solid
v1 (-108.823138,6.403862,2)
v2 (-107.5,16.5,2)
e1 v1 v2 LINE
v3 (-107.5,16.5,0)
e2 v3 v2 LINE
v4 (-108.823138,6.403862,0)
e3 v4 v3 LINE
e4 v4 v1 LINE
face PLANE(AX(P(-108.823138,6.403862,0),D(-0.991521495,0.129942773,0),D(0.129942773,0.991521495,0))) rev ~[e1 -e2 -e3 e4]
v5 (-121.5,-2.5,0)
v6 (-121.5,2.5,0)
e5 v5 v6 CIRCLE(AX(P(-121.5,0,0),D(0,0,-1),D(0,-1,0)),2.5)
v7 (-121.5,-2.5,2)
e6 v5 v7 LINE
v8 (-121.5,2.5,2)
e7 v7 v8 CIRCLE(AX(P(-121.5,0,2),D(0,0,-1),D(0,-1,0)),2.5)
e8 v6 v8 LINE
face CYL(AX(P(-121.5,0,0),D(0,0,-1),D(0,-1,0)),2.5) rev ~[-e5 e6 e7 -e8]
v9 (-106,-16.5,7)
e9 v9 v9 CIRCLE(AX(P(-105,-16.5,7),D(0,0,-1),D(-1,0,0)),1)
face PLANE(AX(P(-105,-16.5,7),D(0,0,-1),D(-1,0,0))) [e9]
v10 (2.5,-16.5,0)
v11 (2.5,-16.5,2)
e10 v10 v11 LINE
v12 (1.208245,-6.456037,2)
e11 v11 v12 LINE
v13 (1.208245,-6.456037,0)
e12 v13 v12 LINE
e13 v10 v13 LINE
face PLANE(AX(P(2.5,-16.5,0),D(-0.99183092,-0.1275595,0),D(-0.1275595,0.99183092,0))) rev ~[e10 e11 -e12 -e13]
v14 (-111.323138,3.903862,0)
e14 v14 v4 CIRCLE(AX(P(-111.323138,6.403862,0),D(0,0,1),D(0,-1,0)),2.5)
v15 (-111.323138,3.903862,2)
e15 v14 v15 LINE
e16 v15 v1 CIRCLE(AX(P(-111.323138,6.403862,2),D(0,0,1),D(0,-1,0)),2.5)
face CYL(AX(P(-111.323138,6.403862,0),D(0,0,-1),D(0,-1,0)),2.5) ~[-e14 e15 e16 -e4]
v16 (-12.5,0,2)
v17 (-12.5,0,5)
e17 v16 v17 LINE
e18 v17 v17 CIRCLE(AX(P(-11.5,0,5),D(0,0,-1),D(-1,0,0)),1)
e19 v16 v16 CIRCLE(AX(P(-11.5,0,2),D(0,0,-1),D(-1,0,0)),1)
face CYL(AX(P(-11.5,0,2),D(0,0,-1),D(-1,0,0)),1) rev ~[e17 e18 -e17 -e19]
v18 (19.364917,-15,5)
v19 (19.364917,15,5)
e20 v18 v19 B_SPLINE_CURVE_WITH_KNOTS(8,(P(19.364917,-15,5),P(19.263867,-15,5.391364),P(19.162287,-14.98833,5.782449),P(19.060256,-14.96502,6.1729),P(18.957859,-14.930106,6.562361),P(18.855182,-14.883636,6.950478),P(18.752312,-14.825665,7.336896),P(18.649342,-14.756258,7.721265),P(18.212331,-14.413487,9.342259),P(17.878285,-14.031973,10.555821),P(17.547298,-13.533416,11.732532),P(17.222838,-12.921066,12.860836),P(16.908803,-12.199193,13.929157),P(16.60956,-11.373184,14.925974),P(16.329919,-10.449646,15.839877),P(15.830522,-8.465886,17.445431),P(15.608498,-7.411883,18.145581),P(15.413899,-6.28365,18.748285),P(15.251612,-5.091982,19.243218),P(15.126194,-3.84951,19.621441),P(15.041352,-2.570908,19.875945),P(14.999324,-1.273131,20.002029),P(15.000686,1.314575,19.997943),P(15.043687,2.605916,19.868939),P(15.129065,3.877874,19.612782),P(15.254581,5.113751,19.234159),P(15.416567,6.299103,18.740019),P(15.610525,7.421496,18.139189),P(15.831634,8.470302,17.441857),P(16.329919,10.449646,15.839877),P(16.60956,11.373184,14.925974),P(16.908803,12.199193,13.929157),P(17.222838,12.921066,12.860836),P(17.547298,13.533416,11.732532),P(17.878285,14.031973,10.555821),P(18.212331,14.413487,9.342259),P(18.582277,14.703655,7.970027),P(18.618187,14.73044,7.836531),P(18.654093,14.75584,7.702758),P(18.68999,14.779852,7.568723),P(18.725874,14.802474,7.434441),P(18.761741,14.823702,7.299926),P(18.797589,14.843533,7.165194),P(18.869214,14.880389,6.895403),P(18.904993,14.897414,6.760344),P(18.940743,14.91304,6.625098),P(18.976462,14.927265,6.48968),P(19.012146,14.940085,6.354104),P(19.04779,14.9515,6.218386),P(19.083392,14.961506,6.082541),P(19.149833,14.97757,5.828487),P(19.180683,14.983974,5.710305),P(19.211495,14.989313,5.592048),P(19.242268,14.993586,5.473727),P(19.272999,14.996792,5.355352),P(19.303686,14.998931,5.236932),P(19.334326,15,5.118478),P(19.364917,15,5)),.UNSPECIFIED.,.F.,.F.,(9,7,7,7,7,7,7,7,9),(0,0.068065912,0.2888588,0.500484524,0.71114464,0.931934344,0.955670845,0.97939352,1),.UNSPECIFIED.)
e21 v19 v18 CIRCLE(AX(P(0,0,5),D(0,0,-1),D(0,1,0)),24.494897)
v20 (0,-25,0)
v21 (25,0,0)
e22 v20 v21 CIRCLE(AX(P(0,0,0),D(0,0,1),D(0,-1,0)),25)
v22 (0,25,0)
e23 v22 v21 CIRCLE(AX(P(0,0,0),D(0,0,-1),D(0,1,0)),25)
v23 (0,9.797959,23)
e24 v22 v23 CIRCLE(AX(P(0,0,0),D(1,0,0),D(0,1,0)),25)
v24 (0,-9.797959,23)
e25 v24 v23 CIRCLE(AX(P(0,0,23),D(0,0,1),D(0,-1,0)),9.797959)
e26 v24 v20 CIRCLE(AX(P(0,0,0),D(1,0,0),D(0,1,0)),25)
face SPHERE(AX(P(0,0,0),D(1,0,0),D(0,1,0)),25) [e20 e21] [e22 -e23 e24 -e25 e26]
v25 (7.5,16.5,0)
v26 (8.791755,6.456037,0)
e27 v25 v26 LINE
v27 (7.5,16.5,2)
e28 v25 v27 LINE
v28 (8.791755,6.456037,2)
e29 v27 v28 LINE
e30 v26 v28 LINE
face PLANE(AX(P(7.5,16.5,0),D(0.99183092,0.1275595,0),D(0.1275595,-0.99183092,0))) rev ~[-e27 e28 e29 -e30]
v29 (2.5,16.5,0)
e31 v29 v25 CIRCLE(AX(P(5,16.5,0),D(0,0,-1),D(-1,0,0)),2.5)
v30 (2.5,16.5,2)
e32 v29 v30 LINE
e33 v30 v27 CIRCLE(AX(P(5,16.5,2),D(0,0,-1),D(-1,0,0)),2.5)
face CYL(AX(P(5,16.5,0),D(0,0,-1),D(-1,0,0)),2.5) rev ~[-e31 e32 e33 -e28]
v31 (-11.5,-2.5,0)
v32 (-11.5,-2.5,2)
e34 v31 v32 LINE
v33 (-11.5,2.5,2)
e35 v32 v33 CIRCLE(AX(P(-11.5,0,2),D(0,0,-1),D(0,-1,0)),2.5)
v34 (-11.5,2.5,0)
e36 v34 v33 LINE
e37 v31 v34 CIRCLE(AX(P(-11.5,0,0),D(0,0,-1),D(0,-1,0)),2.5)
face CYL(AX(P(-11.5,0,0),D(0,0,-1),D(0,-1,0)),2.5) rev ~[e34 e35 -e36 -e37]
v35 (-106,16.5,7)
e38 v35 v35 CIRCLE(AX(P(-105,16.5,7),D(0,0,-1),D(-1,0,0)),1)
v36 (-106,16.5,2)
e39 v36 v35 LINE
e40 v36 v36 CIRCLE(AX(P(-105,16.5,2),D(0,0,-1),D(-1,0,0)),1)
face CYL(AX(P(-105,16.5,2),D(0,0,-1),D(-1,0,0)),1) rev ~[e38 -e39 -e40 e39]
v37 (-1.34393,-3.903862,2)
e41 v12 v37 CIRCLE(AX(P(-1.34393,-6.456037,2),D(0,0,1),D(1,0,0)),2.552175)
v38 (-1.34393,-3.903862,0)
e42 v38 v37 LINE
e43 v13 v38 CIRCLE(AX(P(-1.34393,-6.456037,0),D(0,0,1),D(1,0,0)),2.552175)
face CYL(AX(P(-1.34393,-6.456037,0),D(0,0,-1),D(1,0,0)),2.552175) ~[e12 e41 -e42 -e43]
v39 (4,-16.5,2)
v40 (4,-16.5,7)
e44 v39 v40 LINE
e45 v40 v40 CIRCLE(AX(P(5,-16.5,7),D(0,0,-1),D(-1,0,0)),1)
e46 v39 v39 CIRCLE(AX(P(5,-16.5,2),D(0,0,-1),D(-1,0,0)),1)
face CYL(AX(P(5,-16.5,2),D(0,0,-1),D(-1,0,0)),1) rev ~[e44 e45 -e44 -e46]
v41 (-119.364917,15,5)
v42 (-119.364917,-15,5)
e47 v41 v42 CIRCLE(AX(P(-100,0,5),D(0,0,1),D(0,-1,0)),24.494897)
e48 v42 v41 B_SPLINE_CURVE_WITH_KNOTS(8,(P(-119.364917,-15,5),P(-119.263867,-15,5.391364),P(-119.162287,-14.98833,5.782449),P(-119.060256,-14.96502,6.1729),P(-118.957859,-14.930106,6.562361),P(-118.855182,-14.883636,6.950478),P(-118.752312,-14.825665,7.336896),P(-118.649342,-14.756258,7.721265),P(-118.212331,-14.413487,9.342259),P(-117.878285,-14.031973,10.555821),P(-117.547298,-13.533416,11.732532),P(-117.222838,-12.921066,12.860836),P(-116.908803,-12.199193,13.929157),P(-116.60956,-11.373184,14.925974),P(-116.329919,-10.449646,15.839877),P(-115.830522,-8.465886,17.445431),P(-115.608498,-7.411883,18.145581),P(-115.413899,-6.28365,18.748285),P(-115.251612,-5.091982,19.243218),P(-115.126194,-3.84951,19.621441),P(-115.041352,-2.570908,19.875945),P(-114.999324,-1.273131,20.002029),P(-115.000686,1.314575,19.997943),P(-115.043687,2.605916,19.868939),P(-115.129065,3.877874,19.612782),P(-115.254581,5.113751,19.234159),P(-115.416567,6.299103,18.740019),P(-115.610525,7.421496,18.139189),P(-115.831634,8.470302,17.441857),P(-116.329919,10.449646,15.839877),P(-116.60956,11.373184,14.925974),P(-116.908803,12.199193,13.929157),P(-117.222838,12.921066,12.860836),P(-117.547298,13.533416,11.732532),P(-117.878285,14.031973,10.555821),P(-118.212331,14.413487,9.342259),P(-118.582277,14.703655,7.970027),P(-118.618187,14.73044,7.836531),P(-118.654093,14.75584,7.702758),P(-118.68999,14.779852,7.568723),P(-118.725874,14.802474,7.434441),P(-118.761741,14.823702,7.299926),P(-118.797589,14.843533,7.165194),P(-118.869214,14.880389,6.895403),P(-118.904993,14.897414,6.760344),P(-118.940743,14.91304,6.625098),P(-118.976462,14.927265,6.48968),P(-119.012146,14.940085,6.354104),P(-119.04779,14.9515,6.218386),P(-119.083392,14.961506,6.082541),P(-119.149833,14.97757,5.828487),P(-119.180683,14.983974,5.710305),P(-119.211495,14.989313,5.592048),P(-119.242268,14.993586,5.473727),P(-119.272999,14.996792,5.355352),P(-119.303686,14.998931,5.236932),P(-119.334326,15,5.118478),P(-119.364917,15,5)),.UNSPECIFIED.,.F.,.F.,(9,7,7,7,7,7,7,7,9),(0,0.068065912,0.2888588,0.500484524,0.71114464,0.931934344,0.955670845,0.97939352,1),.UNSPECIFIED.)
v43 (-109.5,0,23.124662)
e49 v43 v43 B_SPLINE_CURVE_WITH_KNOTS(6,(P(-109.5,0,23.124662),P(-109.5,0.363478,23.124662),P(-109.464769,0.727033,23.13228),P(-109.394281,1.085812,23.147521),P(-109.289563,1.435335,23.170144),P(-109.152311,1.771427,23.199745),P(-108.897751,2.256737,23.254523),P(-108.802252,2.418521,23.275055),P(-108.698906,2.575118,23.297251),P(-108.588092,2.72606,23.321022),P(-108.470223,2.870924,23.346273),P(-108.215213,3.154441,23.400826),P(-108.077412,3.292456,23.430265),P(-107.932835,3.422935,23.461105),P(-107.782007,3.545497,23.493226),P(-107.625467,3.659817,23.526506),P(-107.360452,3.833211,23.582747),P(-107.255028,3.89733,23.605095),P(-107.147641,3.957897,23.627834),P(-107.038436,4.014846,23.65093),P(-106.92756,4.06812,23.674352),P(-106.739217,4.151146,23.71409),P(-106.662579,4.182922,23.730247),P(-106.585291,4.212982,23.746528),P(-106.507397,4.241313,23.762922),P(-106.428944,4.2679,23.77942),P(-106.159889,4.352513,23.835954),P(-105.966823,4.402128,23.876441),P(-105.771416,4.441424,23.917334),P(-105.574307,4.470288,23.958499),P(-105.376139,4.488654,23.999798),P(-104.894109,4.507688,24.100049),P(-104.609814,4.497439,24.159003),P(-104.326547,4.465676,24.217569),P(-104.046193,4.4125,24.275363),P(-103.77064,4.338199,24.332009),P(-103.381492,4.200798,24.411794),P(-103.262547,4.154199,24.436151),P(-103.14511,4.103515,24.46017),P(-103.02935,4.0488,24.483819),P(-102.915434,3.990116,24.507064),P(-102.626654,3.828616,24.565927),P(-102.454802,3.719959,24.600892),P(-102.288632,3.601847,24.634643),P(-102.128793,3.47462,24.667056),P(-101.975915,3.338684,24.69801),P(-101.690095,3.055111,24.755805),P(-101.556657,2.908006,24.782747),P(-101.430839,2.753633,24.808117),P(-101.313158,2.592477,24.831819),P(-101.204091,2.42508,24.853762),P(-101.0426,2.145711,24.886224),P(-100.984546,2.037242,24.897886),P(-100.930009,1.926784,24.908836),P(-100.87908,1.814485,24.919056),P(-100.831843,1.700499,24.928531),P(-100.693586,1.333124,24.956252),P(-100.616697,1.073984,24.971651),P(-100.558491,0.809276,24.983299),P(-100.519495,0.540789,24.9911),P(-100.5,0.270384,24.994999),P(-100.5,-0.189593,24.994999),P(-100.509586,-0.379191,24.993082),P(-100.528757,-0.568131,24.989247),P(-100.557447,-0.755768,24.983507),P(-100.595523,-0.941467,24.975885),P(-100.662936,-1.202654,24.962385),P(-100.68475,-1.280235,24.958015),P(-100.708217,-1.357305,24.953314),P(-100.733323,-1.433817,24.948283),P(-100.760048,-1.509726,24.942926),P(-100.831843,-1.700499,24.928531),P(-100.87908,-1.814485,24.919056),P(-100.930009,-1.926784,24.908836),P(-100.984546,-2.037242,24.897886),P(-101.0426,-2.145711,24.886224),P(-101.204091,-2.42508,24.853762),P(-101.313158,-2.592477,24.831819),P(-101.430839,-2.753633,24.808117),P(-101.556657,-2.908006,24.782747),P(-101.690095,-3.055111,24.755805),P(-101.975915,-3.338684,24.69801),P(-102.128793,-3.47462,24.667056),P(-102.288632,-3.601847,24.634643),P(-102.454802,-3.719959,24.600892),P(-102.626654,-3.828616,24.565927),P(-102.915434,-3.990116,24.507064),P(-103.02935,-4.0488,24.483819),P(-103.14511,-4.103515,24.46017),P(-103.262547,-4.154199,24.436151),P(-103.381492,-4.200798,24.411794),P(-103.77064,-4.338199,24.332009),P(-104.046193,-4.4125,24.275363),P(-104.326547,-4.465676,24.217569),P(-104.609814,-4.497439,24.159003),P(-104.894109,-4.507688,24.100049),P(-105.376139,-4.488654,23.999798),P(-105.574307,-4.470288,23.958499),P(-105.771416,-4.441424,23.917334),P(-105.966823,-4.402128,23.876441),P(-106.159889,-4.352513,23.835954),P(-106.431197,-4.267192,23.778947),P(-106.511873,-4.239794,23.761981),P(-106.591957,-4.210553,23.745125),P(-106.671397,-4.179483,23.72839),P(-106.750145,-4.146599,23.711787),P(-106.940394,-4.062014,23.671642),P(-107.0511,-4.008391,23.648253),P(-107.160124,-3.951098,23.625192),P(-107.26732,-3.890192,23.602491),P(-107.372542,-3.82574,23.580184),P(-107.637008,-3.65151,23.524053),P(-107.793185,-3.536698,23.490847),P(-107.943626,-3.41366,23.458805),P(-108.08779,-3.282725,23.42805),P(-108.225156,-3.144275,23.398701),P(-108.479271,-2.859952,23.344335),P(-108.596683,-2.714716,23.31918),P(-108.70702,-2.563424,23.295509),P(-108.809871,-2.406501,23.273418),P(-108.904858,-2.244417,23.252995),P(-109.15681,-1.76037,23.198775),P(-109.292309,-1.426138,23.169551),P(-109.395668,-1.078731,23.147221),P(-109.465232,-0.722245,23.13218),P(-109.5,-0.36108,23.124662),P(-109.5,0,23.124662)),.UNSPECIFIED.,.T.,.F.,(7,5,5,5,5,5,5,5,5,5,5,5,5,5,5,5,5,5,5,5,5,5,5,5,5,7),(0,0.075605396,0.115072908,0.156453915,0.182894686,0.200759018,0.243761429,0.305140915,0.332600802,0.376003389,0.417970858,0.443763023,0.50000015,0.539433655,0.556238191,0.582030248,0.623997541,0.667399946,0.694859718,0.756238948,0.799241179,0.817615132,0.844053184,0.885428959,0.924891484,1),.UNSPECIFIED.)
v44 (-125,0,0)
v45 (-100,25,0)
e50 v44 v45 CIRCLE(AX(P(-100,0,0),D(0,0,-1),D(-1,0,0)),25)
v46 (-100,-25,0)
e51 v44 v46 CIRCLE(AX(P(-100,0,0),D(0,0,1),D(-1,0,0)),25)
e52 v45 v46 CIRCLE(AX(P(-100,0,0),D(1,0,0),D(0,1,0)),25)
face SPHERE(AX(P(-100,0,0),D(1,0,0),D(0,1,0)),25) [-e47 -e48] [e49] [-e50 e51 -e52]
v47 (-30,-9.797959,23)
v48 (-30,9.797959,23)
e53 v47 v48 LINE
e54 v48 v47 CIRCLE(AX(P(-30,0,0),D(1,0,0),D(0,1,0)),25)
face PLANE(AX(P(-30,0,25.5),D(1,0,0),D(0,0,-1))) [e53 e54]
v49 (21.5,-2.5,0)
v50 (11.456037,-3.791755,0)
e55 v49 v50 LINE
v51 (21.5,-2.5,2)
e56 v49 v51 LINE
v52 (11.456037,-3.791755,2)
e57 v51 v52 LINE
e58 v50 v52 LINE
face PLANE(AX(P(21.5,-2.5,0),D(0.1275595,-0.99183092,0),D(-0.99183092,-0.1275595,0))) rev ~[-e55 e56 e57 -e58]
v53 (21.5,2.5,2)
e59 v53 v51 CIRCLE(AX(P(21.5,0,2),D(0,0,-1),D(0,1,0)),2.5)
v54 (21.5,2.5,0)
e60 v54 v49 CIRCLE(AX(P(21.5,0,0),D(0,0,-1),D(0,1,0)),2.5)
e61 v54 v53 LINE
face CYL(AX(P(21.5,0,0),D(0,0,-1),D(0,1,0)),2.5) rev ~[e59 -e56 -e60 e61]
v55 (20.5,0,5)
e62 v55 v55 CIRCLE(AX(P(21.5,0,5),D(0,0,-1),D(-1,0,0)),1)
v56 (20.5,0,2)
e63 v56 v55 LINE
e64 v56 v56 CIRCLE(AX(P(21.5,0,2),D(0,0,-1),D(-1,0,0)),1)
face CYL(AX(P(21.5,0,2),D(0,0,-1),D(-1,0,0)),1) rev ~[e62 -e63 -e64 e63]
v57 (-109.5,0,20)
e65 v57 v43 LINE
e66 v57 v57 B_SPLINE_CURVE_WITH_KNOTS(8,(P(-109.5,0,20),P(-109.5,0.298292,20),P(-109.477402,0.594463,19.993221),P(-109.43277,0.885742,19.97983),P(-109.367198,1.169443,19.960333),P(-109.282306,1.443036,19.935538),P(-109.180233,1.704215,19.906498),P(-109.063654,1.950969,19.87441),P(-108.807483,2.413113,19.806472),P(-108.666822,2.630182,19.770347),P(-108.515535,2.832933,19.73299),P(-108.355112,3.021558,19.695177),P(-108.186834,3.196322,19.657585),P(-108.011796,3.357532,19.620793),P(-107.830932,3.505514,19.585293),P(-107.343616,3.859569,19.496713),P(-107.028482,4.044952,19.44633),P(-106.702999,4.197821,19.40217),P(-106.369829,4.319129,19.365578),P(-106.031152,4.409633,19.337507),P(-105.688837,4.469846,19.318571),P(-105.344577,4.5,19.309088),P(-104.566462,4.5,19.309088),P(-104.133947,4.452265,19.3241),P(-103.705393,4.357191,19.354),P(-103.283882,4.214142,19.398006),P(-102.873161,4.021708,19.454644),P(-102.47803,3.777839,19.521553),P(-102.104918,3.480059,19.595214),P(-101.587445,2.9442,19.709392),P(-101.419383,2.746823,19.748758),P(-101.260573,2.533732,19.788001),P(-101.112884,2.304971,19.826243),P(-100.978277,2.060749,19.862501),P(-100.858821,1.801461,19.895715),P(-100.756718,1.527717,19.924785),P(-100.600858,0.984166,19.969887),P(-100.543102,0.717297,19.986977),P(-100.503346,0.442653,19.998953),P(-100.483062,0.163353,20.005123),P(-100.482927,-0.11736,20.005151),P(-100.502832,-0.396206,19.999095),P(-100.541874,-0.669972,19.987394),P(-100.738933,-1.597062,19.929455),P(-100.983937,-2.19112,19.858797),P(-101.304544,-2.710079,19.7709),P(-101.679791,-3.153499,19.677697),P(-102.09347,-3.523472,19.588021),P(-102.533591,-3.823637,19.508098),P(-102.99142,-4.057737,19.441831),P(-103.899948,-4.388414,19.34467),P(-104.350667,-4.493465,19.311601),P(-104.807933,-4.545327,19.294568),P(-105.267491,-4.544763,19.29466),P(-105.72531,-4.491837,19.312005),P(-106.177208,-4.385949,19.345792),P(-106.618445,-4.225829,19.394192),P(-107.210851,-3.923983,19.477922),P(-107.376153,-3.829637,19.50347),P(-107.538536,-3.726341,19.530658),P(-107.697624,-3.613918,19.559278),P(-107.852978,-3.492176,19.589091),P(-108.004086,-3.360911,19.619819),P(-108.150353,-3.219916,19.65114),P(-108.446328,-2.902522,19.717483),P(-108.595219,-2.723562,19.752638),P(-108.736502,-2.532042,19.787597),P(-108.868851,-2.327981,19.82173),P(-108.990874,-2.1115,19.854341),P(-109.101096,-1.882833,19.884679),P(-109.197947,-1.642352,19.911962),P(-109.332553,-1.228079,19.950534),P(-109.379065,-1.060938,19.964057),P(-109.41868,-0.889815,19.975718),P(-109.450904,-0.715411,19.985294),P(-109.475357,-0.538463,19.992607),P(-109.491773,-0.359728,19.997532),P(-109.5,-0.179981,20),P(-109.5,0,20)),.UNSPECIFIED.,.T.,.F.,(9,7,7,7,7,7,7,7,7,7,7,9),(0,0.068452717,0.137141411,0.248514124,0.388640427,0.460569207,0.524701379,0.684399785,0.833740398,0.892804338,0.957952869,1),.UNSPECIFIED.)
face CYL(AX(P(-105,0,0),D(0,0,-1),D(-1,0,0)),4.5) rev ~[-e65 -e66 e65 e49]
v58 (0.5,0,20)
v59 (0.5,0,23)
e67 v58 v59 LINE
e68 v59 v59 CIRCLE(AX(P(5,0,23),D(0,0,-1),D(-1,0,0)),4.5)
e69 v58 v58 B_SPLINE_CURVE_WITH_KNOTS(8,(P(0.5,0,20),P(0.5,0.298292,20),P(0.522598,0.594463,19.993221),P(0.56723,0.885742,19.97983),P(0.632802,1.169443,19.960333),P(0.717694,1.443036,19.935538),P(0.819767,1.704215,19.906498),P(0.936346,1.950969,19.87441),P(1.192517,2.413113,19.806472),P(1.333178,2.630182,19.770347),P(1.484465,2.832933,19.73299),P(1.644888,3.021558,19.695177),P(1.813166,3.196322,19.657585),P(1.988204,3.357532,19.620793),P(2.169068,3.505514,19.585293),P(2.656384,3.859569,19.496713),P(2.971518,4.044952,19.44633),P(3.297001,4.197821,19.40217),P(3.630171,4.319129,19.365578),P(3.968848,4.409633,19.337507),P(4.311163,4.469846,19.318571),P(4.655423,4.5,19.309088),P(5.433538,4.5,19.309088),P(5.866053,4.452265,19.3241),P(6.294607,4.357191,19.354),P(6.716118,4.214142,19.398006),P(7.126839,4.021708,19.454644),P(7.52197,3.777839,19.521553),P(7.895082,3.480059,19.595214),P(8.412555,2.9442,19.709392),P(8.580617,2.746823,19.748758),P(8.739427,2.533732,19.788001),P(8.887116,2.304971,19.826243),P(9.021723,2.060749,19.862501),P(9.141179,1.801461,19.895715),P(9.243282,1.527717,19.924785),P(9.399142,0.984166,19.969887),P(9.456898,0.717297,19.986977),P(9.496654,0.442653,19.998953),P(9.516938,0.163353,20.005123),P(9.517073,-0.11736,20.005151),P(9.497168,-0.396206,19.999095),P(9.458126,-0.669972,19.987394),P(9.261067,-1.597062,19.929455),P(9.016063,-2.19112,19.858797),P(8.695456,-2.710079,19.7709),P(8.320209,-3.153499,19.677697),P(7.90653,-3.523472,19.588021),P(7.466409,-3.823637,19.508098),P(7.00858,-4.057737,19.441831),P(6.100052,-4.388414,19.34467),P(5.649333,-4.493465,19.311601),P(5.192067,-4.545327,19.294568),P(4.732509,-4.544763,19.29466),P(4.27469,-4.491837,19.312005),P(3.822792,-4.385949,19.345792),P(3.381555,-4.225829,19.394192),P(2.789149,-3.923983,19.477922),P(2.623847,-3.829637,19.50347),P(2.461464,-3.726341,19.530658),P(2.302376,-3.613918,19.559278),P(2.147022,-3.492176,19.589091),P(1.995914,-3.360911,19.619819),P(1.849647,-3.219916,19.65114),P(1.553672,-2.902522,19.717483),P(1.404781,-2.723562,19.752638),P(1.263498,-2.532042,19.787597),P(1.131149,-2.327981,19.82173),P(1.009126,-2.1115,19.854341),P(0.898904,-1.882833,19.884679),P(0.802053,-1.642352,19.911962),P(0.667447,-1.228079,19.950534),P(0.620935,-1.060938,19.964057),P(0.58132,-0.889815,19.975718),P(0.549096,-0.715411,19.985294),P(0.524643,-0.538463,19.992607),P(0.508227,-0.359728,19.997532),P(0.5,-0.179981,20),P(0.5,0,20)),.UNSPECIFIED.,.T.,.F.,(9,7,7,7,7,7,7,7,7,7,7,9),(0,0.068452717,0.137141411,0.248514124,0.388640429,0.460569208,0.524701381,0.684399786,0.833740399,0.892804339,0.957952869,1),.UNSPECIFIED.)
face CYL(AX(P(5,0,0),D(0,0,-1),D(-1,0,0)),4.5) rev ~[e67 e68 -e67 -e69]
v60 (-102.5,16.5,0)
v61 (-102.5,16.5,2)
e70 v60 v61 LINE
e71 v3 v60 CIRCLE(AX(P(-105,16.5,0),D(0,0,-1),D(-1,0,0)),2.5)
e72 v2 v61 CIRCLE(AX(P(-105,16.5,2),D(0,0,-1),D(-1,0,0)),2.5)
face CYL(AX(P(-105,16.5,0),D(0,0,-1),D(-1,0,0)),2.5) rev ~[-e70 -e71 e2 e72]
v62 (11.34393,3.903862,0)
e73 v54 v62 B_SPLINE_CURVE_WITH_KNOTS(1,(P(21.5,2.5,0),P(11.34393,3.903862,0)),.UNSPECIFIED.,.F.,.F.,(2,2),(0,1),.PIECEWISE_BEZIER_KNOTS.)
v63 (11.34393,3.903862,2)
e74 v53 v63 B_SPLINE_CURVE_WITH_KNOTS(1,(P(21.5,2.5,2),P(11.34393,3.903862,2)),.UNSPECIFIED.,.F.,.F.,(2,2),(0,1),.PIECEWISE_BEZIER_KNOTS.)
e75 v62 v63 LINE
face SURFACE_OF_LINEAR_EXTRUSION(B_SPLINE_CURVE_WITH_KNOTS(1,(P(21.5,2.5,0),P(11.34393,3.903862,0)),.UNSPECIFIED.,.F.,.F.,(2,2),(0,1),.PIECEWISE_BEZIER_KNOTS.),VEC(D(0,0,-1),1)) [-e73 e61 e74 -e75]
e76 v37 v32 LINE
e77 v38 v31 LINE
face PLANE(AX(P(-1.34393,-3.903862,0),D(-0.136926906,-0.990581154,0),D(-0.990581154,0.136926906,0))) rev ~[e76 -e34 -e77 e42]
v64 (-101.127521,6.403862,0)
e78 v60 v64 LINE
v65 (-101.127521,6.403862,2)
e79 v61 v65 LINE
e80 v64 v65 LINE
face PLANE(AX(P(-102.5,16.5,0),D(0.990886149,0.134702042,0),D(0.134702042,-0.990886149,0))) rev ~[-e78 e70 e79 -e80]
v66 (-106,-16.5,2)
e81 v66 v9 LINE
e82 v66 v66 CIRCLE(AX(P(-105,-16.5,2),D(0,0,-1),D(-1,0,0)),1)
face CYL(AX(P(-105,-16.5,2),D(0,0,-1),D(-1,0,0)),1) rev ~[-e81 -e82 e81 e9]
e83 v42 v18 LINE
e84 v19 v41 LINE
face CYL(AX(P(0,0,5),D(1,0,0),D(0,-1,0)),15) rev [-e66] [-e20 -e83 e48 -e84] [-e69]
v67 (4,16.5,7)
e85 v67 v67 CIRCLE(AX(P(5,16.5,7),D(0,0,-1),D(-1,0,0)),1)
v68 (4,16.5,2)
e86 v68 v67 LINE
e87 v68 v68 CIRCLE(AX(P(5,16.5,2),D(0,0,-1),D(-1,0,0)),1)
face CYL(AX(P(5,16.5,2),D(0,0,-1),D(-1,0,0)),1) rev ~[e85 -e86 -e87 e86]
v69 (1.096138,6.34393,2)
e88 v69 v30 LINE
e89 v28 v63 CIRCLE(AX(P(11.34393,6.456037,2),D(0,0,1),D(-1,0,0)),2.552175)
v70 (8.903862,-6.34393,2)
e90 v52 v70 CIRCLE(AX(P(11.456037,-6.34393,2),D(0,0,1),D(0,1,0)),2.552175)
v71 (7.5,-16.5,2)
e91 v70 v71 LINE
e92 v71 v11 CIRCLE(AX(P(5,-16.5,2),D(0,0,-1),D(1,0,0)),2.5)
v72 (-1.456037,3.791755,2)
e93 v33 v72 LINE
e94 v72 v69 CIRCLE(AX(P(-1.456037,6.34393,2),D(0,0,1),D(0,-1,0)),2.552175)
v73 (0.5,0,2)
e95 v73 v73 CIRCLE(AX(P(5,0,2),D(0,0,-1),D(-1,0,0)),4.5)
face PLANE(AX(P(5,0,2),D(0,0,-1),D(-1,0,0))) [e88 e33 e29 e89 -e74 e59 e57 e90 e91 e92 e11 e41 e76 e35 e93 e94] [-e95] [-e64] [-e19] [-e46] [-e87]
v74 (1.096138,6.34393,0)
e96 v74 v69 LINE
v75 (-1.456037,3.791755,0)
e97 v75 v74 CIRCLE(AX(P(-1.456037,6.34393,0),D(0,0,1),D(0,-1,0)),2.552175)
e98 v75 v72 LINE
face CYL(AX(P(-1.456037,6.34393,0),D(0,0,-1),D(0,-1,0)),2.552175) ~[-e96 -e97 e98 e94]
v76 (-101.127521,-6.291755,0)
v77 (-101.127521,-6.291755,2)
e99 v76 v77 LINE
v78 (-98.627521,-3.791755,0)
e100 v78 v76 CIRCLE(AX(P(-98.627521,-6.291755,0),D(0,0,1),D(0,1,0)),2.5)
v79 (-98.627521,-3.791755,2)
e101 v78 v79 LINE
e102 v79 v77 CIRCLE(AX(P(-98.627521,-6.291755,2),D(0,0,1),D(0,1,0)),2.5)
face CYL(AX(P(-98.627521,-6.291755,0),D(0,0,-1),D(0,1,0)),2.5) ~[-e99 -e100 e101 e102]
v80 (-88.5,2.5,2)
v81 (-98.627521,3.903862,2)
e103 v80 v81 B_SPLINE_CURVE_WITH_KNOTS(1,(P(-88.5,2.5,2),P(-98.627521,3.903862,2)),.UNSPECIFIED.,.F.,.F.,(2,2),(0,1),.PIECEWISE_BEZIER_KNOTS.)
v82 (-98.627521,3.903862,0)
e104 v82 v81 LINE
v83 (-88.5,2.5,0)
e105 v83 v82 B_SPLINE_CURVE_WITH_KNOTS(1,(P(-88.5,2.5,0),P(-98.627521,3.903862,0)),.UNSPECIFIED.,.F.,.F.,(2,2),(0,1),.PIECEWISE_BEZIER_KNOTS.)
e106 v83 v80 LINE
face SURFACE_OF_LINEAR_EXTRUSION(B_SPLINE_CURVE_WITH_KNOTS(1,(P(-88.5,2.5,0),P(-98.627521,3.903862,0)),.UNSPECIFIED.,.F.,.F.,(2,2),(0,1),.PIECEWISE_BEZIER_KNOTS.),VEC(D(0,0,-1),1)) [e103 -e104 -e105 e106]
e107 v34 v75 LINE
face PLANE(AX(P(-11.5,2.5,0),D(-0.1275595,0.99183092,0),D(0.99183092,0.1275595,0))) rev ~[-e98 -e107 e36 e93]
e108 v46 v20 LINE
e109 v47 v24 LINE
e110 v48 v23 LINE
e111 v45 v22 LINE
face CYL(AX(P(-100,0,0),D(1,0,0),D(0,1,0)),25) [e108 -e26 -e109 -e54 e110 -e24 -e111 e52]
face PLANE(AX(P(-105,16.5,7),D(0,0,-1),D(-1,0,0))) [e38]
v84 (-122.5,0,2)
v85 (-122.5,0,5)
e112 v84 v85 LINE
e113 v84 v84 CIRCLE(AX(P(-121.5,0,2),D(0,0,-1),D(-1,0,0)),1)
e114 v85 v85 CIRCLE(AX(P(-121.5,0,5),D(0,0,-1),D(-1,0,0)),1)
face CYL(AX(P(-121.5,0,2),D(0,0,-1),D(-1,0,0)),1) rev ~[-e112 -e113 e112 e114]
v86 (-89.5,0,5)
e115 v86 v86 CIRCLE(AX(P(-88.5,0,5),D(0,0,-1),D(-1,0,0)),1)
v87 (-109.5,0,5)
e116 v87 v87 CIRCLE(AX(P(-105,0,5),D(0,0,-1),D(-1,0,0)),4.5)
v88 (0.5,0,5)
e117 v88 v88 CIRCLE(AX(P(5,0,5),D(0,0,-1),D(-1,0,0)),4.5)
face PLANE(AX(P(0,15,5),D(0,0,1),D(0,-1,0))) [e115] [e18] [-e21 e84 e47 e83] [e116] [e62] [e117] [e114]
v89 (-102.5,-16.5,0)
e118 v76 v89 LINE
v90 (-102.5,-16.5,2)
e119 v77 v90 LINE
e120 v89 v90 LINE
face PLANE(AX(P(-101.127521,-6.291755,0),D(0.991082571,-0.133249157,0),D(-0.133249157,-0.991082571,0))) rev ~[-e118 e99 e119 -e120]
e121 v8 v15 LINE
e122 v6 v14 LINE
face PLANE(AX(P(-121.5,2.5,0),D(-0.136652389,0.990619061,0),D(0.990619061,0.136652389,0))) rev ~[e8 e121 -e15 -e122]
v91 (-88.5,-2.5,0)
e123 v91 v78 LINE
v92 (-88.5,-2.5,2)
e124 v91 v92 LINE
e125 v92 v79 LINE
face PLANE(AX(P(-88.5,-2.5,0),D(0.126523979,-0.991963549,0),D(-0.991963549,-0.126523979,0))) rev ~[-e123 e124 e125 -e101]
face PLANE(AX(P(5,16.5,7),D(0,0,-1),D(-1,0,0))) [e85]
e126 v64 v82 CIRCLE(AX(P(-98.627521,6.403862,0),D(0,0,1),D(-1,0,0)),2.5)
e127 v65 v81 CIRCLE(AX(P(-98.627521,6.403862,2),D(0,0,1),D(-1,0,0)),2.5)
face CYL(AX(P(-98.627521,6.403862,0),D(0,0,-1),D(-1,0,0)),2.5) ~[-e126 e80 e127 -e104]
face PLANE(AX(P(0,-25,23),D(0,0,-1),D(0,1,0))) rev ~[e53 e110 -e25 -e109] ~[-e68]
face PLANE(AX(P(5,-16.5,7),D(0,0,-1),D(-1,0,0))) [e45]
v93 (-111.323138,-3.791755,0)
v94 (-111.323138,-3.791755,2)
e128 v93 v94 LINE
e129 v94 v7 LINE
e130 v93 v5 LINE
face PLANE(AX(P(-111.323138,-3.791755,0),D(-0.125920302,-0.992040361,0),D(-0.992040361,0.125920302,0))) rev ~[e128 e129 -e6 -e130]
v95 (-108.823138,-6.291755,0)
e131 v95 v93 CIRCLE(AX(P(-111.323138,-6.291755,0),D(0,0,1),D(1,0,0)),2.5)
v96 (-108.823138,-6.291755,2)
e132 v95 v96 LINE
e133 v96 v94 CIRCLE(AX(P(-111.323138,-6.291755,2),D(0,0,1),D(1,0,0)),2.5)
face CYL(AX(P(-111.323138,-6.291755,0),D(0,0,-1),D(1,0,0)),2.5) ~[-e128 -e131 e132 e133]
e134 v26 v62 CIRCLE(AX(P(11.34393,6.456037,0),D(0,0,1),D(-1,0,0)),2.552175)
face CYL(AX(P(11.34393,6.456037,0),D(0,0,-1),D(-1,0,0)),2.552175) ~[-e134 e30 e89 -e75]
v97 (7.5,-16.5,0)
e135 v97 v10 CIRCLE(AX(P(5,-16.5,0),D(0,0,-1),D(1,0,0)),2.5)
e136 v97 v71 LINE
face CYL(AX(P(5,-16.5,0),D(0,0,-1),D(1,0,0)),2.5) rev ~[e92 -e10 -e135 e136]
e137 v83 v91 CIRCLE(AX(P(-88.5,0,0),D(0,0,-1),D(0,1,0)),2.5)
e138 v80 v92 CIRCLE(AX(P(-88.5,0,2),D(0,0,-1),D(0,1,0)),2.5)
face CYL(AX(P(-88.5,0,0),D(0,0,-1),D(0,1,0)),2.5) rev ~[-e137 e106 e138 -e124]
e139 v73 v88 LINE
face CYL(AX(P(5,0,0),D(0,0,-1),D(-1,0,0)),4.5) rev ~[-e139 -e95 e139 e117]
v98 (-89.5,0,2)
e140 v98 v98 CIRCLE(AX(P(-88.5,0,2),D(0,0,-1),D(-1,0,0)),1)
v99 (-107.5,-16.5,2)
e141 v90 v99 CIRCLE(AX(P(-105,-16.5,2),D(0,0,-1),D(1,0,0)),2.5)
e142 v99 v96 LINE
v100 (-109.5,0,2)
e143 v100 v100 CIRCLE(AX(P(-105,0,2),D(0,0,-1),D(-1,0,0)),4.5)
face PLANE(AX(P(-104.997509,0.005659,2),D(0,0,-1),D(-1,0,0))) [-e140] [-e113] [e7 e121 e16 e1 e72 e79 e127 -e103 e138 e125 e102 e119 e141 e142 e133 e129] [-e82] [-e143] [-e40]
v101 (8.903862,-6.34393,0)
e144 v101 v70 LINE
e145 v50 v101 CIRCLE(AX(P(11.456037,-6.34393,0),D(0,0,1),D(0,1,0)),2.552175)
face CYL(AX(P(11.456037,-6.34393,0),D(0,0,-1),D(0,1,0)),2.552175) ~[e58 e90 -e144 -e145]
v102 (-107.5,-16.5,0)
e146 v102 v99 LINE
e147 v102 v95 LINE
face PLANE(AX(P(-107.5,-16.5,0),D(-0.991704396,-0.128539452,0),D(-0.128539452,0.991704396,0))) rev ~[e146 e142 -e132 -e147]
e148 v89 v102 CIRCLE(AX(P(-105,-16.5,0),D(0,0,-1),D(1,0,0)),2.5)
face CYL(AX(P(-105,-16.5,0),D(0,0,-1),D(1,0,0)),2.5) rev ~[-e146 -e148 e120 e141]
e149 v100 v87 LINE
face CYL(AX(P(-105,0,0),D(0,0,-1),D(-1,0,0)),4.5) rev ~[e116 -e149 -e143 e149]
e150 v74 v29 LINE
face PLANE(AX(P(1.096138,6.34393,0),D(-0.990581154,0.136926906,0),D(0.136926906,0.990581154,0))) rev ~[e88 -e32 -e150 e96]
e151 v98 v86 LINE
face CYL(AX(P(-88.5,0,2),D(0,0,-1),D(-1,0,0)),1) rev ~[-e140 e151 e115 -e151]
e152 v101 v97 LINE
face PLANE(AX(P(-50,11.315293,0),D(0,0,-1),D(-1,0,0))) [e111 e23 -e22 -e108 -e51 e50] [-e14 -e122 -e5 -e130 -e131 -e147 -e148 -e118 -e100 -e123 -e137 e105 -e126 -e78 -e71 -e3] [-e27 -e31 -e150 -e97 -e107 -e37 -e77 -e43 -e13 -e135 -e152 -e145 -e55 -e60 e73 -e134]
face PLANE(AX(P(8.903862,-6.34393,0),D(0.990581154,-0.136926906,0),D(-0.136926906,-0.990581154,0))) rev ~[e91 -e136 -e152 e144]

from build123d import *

# Parameters (mm, degrees)
REVOLVE1_ANGLE          = 180
SKETCH7_R               = 4.5
CUT_EXTRUDE2_DEPTH      = 26
CUT_EXTRUDE5_DEPTH      = 26
CUT_EXTRUDE5_DEPTH_BACK = 126
SKETCH12_W              = 5
SKETCH12_H              = 50
CUT_EXTRUDE6_DEPTH      = 20
CUT_EXTRUDE6_DEPTH_BACK = 30
CUT_EXTRUDE7_START      = -5
CUT_EXTRUDE7_DEPTH      = 2
SKETCH14_R              = 1
CUT_EXTRUDE8_DEPTH      = 5


with BuildPart() as part:
    # Sketch5 → Revolve1 (revolve)
    with BuildSketch(Plane.XY):
        with BuildLine():
            Line((0, 0), (-100, 0))
            Line((-100, 0), (-125, 0))
            ThreePointArc((-125, 0), (-117.67766953, 17.67766953), (-100, 25))
            Line((-100, 25), (0, 25))
            ThreePointArc((0, 25), (17.67766953, 17.67766953), (25, 0))
            Line((25, 0), (0, 0))
        make_face()
    revolve(axis=Axis((-64.676616915, 0, 0), (1, 0, 0)), revolution_arc=REVOLVE1_ANGLE)

    # Sketch7 → Cut-Extrude2 (cut, through all)
    with BuildSketch(Plane(origin=(0, 0, 0), x_dir=(-1, 0, 0), z_dir=(0, 0, -1))):
        with Locations((-5, 0)):
            Circle(SKETCH7_R)
        with Locations((105, 0)):
            Circle(SKETCH7_R)
    extrude(amount=-CUT_EXTRUDE2_DEPTH, mode=Mode.SUBTRACT)

    # Sketch10 → Cut-Extrude5 (cut, two sides)
    with BuildSketch(Plane(origin=(0, 0, 0), x_dir=(0, 0, -1), z_dir=(1, 0, 0))) as cut_extrude5_sk:
        with BuildLine():
            Line((-5, 15), (-5, -15))
            ThreePointArc((-5, -15), (-20, 0), (-5, 15))
        make_face()
    extrude(amount=CUT_EXTRUDE5_DEPTH, mode=Mode.SUBTRACT)
    extrude(cut_extrude5_sk.sketch, amount=-CUT_EXTRUDE5_DEPTH_BACK, mode=Mode.SUBTRACT)

    # Sketch12 → Cut-Extrude6 (cut, two sides)
    with BuildSketch(Plane(origin=(0, 0, 0), x_dir=(0, 0, -1), z_dir=(1, 0, 0))) as cut_extrude6_sk:
        with Locations((-25.5, 0)):
            Rectangle(SKETCH12_W, SKETCH12_H)
    extrude(amount=CUT_EXTRUDE6_DEPTH, mode=Mode.SUBTRACT)
    extrude(cut_extrude6_sk.sketch, amount=-CUT_EXTRUDE6_DEPTH_BACK, mode=Mode.SUBTRACT)

    # Sketch13 → Cut-Extrude7 (cut)
    with BuildSketch(Plane.XY.offset(5).offset(CUT_EXTRUDE7_START)):
        with BuildLine():
            Line((7.5, 16.5), (8.79175539, 6.456036683))
            ThreePointArc((8.79175539, 6.456036683), (9.53927005, 4.651376653), (11.34393008, 3.903861993))
            add(Edge.make_bspline(
                [(21.5, 2.5), (11.34393008, 3.903861993)],
                knots=[0, 0, 1, 1], degree=1))
            ThreePointArc((21.5, 2.5), (24, 0), (21.5, -2.5))
            Line((21.5, -2.5), (11.456036683, -3.79175539))
            ThreePointArc((11.456036683, -3.79175539), (9.651376653, -4.53927005), (8.903861993, -6.34393008))
            Line((8.903861993, -6.34393008), (7.5, -16.5))
            ThreePointArc((7.5, -16.5), (5, -19), (2.5, -16.5))
            Line((2.5, -16.5), (1.20824461, -6.456036683))
            ThreePointArc((1.20824461, -6.456036683), (0.46072995, -4.651376653), (-1.34393008, -3.903861993))
            Line((-1.34393008, -3.903861993), (-11.5, -2.5))
            ThreePointArc((-11.5, -2.5), (-14, 0), (-11.5, 2.5))
            Line((-11.5, 2.5), (-1.456036683, 3.79175539))
            ThreePointArc((-1.456036683, 3.79175539), (0.348623347, 4.53927005), (1.096138007, 6.34393008))
            Line((1.096138007, 6.34393008), (2.5, 16.5))
            ThreePointArc((2.5, 16.5), (5, 19), (7.5, 16.5))
        make_face()
        with BuildLine():
            Line((-102.5, 16.5), (-101.127521023, 6.403861993))
            ThreePointArc((-101.127521023, 6.403861993), (-100.395287976, 4.63609504), (-98.627521023, 3.903861993))
            add(Edge.make_bspline(
                [(-88.5, 2.5), (-98.627521023, 3.903861993)],
                knots=[0, 0, 1, 1], degree=1))
            ThreePointArc((-88.5, 2.5), (-86, 0), (-88.5, -2.5))
            Line((-88.5, -2.5), (-98.627521023, -3.79175539))
            ThreePointArc((-98.627521023, -3.79175539), (-100.395287976, -4.523988437), (-101.127521023, -6.29175539))
            Line((-101.127521023, -6.29175539), (-102.5, -16.5))
            ThreePointArc((-102.5, -16.5), (-105, -19), (-107.5, -16.5))
            Line((-107.5, -16.5), (-108.823138405, -6.29175539))
            ThreePointArc((-108.823138405, -6.29175539), (-109.555371452, -4.523988437), (-111.323138405, -3.79175539))
            Line((-111.323138405, -3.79175539), (-121.5, -2.5))
            ThreePointArc((-121.5, -2.5), (-124, 0), (-121.5, 2.5))
            Line((-121.5, 2.5), (-111.323138405, 3.903861993))
            ThreePointArc((-111.323138405, 3.903861993), (-109.555371452, 4.63609504), (-108.823138405, 6.403861993))
            Line((-108.823138405, 6.403861993), (-107.5, 16.5))
            ThreePointArc((-107.5, 16.5), (-105, 19), (-102.5, 16.5))
        make_face()
    extrude(amount=CUT_EXTRUDE7_DEPTH, mode=Mode.SUBTRACT)

    # Sketch14 → Cut-Extrude8 (cut)
    with BuildSketch(Plane(origin=(0, 0, 2), x_dir=(-1, 0, 0), z_dir=(0, 0, -1))):
        with Locations((-5, 16.5)):
            Circle(SKETCH14_R)
        with Locations((11.5, 0)):
            Circle(SKETCH14_R)
        with Locations((-5, -16.5)):
            Circle(SKETCH14_R)
        with Locations((-21.5, 0)):
            Circle(SKETCH14_R)
        with Locations((105, 16.5)):
            Circle(SKETCH14_R)
        with Locations((121.5, 0)):
            Circle(SKETCH14_R)
        with Locations((105, -16.5)):
            Circle(SKETCH14_R)
        with Locations((88.5, 0)):
            Circle(SKETCH14_R)
    extrude(amount=-CUT_EXTRUDE8_DEPTH, mode=Mode.SUBTRACT)


solid = part.part
